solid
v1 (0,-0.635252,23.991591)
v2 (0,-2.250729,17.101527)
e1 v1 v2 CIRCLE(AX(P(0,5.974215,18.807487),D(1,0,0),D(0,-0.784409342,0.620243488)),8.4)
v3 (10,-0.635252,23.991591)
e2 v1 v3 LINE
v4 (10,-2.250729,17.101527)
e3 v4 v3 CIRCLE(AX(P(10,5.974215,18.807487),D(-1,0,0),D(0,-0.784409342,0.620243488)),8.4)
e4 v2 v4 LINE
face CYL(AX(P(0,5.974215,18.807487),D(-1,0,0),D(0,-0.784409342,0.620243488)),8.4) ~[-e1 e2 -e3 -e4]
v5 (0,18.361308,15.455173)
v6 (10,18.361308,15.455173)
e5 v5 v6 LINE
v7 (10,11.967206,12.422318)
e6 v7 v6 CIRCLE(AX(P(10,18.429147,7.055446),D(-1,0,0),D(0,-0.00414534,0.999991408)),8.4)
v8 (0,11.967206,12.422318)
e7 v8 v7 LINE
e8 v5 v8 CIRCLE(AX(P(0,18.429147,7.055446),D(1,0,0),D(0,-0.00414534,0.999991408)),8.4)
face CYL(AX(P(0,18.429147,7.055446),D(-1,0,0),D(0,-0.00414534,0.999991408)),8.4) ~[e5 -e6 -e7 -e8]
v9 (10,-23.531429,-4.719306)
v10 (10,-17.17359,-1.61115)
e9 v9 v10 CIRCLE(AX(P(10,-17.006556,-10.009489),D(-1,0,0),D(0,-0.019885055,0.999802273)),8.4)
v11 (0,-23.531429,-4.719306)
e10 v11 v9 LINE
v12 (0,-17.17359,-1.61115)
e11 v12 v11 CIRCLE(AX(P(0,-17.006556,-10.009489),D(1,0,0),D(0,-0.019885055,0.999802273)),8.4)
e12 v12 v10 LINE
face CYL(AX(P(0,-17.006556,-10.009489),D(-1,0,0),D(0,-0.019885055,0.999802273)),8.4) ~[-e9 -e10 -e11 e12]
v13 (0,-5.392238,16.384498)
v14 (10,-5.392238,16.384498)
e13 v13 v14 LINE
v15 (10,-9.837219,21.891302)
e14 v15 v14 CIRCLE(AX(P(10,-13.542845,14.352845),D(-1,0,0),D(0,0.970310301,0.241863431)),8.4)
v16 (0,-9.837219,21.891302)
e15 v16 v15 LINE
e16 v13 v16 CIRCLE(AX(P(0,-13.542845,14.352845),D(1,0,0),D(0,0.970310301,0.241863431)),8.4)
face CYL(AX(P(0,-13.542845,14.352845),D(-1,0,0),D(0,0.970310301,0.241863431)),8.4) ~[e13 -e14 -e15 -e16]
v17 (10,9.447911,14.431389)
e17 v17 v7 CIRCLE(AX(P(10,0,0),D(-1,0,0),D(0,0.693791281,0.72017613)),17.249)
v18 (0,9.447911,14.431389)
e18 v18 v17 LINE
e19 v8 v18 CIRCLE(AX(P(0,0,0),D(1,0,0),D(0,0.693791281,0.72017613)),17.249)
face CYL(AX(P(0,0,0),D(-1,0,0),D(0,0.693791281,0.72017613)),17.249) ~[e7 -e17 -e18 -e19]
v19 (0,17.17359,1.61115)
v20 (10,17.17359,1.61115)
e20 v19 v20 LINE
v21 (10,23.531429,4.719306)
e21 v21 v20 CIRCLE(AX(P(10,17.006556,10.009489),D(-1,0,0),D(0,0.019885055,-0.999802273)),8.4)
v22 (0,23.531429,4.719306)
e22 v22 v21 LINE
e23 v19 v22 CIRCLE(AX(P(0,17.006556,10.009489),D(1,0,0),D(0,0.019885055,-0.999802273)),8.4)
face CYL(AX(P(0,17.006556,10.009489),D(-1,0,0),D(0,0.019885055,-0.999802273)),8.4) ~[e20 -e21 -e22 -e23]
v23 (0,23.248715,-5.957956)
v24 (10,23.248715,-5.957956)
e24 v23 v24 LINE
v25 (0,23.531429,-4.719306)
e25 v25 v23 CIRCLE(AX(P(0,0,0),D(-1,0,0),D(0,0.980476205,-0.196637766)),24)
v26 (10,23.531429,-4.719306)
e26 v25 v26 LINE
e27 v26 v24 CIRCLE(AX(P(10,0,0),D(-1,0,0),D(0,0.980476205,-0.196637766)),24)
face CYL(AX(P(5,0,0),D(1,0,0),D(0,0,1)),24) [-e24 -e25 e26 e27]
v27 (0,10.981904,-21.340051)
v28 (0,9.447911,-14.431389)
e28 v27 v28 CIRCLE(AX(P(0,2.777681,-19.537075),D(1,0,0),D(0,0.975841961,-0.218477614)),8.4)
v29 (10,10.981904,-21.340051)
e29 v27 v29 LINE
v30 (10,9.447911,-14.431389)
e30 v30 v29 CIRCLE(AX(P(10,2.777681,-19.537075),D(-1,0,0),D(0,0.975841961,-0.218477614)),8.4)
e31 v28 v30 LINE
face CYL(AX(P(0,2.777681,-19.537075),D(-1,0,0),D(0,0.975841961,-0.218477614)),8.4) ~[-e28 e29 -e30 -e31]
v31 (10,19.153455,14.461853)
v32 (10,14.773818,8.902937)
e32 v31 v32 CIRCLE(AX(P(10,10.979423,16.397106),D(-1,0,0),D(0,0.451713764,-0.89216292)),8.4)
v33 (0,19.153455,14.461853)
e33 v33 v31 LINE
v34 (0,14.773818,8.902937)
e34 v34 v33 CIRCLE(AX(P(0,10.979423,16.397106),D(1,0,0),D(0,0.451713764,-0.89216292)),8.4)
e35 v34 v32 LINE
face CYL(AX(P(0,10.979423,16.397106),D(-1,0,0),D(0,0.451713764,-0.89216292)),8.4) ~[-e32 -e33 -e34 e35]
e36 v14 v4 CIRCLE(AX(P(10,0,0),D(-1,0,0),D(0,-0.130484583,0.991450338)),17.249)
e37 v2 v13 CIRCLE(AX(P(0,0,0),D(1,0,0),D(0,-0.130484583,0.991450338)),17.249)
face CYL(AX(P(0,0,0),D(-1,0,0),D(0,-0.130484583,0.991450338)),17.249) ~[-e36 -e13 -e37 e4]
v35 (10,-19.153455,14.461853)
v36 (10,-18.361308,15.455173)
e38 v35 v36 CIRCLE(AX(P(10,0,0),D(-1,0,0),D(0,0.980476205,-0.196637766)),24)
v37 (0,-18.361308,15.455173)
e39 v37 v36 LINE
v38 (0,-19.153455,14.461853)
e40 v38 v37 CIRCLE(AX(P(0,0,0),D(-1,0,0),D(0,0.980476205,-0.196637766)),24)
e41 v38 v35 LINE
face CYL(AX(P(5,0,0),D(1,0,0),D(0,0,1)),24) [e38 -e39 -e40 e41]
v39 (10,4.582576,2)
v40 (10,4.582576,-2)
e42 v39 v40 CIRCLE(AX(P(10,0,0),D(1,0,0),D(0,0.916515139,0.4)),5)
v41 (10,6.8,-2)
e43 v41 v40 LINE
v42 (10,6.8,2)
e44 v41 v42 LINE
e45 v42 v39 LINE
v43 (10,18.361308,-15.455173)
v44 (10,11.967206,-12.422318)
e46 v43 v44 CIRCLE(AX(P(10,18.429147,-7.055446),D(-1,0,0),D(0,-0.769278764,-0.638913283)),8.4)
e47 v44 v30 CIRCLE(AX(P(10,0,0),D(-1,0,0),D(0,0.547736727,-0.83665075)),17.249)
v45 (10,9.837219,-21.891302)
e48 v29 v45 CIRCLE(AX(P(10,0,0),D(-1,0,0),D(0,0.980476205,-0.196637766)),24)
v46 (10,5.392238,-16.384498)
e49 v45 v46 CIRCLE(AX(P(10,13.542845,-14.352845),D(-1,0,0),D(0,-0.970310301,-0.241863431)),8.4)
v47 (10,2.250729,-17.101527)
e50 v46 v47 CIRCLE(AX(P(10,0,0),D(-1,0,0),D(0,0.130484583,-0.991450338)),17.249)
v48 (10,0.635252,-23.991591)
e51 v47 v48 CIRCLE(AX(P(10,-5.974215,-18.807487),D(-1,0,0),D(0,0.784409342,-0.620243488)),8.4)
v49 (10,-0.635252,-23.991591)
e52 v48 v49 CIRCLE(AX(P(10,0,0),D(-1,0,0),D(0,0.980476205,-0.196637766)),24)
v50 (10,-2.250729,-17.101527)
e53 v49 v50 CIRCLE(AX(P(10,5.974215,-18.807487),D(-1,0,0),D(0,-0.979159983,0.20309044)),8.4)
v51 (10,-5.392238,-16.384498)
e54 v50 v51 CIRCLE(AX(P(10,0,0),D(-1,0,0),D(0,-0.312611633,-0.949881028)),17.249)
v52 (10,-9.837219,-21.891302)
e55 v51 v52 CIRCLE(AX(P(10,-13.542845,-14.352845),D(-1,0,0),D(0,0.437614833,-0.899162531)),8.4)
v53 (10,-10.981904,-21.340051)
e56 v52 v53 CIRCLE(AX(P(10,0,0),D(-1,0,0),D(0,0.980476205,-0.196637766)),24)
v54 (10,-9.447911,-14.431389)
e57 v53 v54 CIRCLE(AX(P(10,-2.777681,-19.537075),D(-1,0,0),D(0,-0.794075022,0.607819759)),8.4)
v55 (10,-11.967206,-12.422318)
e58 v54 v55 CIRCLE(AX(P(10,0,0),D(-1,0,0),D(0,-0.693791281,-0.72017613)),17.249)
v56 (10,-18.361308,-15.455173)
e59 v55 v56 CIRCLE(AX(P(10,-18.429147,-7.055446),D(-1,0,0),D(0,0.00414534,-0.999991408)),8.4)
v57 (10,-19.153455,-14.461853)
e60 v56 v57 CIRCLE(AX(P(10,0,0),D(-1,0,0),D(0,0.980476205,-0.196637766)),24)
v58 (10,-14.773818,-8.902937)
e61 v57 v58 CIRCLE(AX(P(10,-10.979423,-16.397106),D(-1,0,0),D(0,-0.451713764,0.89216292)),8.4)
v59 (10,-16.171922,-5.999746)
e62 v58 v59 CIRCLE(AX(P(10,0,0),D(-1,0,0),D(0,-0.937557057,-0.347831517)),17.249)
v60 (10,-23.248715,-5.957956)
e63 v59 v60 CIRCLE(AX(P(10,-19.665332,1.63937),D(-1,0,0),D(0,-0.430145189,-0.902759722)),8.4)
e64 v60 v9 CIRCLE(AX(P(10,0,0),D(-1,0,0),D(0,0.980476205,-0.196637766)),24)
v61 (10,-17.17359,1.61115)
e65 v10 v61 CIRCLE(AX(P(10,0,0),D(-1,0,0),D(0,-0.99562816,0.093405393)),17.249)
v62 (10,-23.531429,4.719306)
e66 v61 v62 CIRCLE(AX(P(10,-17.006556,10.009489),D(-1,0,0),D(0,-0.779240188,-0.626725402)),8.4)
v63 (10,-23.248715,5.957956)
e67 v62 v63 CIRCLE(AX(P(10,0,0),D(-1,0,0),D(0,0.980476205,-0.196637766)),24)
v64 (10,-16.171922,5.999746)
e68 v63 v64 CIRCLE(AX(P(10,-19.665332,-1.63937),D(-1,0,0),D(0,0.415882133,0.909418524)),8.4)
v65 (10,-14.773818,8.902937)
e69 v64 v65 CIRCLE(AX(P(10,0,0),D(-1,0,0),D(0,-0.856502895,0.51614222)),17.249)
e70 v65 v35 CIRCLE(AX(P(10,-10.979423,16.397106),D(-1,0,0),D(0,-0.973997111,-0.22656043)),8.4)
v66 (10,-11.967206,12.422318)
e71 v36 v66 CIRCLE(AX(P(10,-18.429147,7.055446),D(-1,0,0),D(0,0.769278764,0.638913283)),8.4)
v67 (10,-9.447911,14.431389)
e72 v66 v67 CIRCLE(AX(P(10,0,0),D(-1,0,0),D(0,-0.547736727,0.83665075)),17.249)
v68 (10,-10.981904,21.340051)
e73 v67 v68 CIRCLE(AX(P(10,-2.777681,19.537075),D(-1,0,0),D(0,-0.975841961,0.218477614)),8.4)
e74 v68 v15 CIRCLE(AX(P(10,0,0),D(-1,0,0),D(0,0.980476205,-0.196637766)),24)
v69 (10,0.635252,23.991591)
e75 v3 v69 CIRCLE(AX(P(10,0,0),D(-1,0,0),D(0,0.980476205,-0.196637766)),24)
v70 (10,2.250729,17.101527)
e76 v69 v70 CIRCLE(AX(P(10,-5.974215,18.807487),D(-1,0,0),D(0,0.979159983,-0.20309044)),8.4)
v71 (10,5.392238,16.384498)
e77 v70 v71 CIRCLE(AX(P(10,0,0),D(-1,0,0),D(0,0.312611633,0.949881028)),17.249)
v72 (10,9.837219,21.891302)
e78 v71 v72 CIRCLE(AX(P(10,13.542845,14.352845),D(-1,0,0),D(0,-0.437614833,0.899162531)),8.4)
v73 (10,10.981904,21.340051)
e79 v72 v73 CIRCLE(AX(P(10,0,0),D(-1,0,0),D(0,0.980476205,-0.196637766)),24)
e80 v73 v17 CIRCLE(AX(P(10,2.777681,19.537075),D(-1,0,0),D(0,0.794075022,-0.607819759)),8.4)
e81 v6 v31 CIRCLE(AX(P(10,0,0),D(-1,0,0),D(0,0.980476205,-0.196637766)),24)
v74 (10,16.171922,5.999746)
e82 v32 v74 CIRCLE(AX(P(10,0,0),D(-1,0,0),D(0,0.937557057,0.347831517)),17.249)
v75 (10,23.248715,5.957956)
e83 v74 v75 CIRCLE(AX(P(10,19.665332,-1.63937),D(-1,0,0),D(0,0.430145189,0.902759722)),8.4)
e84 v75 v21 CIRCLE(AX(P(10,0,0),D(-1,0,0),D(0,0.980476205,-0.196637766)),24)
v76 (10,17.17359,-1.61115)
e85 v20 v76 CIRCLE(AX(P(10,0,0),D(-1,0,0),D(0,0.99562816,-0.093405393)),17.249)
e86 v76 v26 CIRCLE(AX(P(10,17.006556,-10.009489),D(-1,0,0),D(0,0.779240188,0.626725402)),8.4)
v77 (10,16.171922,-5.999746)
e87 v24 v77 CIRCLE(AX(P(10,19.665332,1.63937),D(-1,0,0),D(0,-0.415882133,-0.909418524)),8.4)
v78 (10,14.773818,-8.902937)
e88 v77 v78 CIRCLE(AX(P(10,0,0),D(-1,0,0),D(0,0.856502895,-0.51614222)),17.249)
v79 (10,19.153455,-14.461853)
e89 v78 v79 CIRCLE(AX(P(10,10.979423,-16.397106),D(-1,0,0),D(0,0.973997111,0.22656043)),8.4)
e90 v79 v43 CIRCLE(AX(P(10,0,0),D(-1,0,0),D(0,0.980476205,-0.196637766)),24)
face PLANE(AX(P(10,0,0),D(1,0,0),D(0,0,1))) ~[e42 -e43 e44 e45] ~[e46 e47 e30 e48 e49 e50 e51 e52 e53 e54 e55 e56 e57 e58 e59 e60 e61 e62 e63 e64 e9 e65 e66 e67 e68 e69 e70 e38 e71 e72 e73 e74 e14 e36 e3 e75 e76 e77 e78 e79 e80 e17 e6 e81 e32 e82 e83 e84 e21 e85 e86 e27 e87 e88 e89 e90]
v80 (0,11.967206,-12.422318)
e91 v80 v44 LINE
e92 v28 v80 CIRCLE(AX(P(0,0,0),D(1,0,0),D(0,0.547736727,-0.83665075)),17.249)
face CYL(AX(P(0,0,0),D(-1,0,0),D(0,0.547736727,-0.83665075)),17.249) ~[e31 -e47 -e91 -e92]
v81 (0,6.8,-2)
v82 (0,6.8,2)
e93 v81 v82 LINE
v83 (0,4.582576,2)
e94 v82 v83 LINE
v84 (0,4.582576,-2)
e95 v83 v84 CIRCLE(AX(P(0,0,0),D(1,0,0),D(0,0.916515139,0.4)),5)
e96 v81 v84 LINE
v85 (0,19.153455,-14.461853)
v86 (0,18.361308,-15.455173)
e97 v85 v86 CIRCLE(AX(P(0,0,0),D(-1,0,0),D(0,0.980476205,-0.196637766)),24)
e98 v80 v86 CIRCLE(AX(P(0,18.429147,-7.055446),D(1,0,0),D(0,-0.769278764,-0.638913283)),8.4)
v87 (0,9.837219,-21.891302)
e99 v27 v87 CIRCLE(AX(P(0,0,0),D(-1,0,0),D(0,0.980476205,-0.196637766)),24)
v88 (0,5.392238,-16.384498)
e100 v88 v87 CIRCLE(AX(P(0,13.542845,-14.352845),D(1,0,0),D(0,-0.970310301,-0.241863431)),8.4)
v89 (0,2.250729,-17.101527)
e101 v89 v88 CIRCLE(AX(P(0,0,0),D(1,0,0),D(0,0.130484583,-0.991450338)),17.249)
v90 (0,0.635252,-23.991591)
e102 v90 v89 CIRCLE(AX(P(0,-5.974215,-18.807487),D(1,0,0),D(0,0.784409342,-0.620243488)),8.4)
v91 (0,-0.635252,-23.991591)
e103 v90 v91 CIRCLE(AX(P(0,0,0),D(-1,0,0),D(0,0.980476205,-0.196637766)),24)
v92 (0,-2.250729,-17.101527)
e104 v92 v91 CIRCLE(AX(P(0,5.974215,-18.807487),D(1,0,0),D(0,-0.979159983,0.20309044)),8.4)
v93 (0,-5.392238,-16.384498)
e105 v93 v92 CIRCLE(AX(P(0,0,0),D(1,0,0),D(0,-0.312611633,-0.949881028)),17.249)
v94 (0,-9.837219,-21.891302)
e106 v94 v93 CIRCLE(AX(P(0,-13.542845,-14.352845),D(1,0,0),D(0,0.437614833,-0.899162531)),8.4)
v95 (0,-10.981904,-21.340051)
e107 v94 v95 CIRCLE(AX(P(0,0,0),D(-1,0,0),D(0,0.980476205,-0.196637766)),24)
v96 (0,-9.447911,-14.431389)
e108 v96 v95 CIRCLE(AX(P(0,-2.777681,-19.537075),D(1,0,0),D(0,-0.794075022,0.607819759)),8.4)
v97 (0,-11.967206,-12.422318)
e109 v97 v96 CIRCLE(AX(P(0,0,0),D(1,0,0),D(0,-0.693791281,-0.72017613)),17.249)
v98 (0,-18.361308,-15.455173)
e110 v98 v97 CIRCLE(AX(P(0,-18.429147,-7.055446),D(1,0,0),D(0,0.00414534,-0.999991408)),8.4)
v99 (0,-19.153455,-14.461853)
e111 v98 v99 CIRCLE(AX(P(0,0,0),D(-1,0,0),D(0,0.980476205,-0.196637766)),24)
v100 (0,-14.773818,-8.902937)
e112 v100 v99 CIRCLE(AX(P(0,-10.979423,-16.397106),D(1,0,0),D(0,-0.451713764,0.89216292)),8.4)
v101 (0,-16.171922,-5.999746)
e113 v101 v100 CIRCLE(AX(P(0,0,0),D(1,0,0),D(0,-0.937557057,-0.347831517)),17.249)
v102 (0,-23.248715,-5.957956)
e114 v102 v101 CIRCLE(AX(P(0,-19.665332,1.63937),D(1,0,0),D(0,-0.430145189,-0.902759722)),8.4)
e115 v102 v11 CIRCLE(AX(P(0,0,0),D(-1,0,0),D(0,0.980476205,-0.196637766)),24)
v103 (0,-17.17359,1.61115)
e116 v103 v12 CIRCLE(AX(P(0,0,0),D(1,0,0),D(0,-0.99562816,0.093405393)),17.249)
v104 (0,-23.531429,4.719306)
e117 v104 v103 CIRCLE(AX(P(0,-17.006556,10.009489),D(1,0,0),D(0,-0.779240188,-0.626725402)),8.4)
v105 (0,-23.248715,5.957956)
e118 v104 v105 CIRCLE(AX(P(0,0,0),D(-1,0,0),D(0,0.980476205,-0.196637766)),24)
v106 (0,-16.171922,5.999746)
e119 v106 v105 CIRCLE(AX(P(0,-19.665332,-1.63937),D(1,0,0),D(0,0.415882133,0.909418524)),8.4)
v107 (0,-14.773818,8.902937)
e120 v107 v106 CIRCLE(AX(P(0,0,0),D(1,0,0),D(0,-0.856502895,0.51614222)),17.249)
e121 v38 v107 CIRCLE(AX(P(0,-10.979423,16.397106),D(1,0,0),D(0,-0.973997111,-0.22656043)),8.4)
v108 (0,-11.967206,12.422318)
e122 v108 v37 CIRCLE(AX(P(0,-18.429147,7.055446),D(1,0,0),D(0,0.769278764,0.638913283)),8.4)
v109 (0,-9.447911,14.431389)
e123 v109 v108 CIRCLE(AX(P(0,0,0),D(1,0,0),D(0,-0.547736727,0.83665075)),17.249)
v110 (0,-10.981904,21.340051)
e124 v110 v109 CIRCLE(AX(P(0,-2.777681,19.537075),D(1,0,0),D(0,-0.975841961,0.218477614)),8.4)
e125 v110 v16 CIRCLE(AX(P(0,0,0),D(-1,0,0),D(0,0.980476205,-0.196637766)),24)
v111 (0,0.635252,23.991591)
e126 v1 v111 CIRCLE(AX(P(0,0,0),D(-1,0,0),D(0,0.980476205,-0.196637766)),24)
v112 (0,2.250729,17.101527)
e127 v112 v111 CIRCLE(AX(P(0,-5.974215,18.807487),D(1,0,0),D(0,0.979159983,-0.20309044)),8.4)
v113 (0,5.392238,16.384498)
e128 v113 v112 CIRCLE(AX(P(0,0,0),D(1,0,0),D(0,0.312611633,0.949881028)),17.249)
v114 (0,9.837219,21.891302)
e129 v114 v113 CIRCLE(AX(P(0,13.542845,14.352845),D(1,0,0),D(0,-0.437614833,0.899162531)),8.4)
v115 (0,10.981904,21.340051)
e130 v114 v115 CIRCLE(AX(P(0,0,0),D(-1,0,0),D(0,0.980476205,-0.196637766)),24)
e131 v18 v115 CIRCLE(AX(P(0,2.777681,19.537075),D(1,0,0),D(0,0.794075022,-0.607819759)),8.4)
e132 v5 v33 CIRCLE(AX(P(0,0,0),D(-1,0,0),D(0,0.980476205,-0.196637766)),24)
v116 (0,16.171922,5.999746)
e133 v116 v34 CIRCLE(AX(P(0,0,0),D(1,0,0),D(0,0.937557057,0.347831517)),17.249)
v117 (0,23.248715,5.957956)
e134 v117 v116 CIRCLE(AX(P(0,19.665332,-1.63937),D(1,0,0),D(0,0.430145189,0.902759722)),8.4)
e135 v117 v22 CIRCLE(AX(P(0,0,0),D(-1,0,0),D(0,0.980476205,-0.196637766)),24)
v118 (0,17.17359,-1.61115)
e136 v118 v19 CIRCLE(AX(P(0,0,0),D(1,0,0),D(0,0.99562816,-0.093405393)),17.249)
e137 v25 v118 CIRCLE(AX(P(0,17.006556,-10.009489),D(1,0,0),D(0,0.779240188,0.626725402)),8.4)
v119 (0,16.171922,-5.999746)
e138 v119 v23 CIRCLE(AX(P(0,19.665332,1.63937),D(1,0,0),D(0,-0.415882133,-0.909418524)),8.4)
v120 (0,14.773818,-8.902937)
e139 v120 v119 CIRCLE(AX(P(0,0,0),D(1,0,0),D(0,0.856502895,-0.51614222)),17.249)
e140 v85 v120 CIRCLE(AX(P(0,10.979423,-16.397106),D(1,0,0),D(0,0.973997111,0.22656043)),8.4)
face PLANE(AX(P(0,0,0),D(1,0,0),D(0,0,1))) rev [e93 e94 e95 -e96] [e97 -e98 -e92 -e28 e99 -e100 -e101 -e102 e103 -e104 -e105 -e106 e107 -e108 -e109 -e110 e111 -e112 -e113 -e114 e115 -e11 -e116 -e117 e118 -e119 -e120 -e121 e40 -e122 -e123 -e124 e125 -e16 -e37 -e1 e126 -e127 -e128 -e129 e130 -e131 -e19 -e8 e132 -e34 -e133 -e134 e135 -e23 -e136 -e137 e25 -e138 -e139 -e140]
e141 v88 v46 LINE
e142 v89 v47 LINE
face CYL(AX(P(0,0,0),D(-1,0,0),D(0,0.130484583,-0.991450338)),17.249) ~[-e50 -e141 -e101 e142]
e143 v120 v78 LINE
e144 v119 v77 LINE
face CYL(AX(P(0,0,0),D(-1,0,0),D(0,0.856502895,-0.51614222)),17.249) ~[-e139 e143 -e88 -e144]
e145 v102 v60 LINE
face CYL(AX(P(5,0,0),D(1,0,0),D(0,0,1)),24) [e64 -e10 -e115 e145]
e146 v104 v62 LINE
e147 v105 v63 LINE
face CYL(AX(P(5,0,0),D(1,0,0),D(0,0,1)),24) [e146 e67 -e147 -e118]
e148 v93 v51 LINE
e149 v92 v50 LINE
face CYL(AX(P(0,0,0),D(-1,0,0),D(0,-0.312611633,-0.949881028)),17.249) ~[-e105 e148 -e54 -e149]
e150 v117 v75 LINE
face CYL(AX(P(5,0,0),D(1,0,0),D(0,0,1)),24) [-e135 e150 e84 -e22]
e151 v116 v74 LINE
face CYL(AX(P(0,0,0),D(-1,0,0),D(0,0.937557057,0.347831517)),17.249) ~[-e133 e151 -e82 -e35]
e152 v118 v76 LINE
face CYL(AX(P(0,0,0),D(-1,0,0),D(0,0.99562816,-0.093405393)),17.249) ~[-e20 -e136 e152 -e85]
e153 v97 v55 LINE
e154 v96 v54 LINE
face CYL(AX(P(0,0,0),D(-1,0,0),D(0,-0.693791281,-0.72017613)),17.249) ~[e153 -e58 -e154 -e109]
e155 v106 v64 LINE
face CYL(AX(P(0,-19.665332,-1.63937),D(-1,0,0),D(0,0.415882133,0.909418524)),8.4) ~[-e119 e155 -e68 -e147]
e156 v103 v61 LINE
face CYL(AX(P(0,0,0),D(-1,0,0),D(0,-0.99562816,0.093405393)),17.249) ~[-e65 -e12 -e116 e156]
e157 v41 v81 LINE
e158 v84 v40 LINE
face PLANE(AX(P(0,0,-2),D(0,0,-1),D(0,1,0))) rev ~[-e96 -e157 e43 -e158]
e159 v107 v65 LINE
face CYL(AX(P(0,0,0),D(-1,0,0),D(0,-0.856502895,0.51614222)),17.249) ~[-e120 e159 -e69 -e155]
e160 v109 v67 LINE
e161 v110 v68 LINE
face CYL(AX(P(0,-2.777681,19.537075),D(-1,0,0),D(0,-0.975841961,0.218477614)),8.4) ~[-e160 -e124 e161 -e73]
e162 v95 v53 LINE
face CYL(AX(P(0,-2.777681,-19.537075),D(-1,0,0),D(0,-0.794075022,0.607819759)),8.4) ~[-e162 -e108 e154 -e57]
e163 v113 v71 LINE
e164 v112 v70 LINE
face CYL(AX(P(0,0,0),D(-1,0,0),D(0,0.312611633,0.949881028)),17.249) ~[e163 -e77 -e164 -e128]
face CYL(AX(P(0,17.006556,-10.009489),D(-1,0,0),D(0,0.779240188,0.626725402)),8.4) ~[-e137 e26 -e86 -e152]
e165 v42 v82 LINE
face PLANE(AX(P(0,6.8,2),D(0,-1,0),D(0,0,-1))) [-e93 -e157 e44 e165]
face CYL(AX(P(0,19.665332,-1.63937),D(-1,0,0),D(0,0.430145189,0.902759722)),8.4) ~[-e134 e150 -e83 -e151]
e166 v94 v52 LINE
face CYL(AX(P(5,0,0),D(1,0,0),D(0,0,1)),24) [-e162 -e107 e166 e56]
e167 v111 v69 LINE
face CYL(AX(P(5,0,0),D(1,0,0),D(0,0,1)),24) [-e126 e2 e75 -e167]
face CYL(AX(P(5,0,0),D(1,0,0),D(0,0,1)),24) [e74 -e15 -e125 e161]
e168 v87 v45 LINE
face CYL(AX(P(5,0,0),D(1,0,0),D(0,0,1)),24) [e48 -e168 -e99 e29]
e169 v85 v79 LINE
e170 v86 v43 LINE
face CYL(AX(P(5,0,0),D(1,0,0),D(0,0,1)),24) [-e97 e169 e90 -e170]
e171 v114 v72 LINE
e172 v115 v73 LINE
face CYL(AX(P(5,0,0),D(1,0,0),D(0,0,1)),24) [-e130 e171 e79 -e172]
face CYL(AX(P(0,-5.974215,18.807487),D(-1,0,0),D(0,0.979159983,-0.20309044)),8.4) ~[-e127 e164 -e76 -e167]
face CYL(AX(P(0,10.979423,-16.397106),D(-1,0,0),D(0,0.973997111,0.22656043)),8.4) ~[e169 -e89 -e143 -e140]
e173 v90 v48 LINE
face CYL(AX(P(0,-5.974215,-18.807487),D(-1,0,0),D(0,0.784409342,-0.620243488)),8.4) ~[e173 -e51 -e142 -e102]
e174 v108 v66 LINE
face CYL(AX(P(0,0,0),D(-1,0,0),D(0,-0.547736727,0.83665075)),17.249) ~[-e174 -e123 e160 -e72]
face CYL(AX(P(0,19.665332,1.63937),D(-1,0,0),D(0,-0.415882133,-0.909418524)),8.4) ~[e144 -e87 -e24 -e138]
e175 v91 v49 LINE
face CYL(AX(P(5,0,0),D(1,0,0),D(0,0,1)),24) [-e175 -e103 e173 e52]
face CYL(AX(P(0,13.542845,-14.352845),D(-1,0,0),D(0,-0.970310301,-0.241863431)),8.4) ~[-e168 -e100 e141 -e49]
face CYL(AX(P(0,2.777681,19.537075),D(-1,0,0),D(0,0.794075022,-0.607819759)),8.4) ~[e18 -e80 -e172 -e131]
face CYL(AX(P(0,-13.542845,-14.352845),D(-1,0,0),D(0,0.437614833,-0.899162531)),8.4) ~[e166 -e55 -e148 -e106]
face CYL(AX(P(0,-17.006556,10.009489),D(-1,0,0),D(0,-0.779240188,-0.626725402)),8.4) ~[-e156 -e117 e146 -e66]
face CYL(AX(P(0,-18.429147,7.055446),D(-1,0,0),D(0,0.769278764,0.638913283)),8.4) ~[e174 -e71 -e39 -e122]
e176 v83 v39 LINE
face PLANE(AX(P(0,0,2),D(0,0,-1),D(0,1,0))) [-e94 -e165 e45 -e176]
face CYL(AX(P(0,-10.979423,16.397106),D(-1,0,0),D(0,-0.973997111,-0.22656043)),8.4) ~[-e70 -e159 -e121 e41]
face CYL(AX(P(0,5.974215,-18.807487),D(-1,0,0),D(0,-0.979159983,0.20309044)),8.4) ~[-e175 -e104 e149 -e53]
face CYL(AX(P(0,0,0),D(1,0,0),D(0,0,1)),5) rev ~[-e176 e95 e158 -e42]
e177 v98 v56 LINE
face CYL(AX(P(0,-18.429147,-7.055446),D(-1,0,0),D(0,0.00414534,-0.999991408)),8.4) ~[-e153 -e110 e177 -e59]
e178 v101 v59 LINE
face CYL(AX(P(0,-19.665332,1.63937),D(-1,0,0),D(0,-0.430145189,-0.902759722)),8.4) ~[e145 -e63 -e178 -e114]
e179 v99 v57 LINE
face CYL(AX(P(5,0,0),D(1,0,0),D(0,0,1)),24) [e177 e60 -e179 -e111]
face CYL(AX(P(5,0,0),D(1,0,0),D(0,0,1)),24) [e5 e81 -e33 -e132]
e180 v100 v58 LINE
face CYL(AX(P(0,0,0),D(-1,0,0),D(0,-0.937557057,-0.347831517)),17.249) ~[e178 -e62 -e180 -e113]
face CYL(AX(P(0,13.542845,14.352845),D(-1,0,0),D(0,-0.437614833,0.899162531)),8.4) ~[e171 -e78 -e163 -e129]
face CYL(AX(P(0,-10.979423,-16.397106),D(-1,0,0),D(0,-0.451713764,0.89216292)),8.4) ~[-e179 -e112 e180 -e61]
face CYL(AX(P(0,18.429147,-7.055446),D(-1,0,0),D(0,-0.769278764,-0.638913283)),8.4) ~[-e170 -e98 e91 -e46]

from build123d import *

# Parameters (mm, degrees)
BASPROSKE_W     = 10
BASPROSKE_H     = 24
TOOTHCUT_DEPTH  = 36.383612026
TEETHCUTS_COUNT = 14
TEETHCUTS_ANGLE = 334.285714286
BORSKE_R        = 5
BORE_DEPTH      = 50.0000508
KEYSKE_W        = 4
KEYSKE_H        = 6.8
KEYWAY_DEPTH    = 50.0000508


with BuildPart() as part:
    # BasProSke → Base-Revolve (revolve)
    with BuildSketch(Plane(origin=(0, 0, 0), x_dir=(1, 0, 0), z_dir=(0, 1, 0)), mode=Mode.PRIVATE) as base_revolve_sk:
        with Locations((5, 12)):
            Rectangle(BASPROSKE_W, BASPROSKE_H)
    revolve(base_revolve_sk.sketch.rotate(Axis((-10, 0, 0), (1, 0, 0)), 180), axis=Axis((-10, 0, 0), (1, 0, 0)))

    # TooCutSke → ToothCut (cut, through all)
    with BuildSketch(Plane(origin=(0, 0, 0), x_dir=(0, 0, -1), z_dir=(1, 0, 0))):
        with BuildLine():
            ThreePointArc((1.61114962, 17.173590128), (0, 17.249), (-1.61114962, 17.173590128))
            ThreePointArc((-1.61114962, 17.173590128), (-2.470269362, 20.710630663), (-4.744995334, 23.552173242))
            ThreePointArc((-4.744995334, 23.552173242), (0, 24.0254), (4.744995334, 23.552173242))
            ThreePointArc((4.744995334, 23.552173242), (2.470269362, 20.710630663), (1.61114962, 17.173590128))
        make_face()
    toothcut = extrude(amount=TOOTHCUT_DEPTH, mode=Mode.SUBTRACT)

    # TeethCuts: ToothCut ×14 about axis
    teethcuts_axis = Axis((-10, 0, 0), (1, 0, 0))
    for i in range(1, TEETHCUTS_COUNT):
        add(toothcut.rotate(teethcuts_axis, i * TEETHCUTS_ANGLE / (TEETHCUTS_COUNT - 1)), mode=Mode.SUBTRACT)

    # BorSke → Bore (cut, symmetric)
    with BuildSketch(Plane(origin=(0, 0, 0), x_dir=(0, 0, -1), z_dir=(1, 0, 0))):
        with Locations(Location((0, 0, 0), (0, 0, 180))):
            Circle(BORSKE_R)
    extrude(amount=BORE_DEPTH, both=True, mode=Mode.SUBTRACT)

    # KeySke → Keyway (cut, symmetric)
    with BuildSketch(Plane(origin=(0, 0, 0), x_dir=(0, 0, -1), z_dir=(1, 0, 0))):
        with Locations((0, 3.4)):
            Rectangle(KEYSKE_W, KEYSKE_H)
    extrude(amount=KEYWAY_DEPTH, both=True, mode=Mode.SUBTRACT)


solid = part.part
